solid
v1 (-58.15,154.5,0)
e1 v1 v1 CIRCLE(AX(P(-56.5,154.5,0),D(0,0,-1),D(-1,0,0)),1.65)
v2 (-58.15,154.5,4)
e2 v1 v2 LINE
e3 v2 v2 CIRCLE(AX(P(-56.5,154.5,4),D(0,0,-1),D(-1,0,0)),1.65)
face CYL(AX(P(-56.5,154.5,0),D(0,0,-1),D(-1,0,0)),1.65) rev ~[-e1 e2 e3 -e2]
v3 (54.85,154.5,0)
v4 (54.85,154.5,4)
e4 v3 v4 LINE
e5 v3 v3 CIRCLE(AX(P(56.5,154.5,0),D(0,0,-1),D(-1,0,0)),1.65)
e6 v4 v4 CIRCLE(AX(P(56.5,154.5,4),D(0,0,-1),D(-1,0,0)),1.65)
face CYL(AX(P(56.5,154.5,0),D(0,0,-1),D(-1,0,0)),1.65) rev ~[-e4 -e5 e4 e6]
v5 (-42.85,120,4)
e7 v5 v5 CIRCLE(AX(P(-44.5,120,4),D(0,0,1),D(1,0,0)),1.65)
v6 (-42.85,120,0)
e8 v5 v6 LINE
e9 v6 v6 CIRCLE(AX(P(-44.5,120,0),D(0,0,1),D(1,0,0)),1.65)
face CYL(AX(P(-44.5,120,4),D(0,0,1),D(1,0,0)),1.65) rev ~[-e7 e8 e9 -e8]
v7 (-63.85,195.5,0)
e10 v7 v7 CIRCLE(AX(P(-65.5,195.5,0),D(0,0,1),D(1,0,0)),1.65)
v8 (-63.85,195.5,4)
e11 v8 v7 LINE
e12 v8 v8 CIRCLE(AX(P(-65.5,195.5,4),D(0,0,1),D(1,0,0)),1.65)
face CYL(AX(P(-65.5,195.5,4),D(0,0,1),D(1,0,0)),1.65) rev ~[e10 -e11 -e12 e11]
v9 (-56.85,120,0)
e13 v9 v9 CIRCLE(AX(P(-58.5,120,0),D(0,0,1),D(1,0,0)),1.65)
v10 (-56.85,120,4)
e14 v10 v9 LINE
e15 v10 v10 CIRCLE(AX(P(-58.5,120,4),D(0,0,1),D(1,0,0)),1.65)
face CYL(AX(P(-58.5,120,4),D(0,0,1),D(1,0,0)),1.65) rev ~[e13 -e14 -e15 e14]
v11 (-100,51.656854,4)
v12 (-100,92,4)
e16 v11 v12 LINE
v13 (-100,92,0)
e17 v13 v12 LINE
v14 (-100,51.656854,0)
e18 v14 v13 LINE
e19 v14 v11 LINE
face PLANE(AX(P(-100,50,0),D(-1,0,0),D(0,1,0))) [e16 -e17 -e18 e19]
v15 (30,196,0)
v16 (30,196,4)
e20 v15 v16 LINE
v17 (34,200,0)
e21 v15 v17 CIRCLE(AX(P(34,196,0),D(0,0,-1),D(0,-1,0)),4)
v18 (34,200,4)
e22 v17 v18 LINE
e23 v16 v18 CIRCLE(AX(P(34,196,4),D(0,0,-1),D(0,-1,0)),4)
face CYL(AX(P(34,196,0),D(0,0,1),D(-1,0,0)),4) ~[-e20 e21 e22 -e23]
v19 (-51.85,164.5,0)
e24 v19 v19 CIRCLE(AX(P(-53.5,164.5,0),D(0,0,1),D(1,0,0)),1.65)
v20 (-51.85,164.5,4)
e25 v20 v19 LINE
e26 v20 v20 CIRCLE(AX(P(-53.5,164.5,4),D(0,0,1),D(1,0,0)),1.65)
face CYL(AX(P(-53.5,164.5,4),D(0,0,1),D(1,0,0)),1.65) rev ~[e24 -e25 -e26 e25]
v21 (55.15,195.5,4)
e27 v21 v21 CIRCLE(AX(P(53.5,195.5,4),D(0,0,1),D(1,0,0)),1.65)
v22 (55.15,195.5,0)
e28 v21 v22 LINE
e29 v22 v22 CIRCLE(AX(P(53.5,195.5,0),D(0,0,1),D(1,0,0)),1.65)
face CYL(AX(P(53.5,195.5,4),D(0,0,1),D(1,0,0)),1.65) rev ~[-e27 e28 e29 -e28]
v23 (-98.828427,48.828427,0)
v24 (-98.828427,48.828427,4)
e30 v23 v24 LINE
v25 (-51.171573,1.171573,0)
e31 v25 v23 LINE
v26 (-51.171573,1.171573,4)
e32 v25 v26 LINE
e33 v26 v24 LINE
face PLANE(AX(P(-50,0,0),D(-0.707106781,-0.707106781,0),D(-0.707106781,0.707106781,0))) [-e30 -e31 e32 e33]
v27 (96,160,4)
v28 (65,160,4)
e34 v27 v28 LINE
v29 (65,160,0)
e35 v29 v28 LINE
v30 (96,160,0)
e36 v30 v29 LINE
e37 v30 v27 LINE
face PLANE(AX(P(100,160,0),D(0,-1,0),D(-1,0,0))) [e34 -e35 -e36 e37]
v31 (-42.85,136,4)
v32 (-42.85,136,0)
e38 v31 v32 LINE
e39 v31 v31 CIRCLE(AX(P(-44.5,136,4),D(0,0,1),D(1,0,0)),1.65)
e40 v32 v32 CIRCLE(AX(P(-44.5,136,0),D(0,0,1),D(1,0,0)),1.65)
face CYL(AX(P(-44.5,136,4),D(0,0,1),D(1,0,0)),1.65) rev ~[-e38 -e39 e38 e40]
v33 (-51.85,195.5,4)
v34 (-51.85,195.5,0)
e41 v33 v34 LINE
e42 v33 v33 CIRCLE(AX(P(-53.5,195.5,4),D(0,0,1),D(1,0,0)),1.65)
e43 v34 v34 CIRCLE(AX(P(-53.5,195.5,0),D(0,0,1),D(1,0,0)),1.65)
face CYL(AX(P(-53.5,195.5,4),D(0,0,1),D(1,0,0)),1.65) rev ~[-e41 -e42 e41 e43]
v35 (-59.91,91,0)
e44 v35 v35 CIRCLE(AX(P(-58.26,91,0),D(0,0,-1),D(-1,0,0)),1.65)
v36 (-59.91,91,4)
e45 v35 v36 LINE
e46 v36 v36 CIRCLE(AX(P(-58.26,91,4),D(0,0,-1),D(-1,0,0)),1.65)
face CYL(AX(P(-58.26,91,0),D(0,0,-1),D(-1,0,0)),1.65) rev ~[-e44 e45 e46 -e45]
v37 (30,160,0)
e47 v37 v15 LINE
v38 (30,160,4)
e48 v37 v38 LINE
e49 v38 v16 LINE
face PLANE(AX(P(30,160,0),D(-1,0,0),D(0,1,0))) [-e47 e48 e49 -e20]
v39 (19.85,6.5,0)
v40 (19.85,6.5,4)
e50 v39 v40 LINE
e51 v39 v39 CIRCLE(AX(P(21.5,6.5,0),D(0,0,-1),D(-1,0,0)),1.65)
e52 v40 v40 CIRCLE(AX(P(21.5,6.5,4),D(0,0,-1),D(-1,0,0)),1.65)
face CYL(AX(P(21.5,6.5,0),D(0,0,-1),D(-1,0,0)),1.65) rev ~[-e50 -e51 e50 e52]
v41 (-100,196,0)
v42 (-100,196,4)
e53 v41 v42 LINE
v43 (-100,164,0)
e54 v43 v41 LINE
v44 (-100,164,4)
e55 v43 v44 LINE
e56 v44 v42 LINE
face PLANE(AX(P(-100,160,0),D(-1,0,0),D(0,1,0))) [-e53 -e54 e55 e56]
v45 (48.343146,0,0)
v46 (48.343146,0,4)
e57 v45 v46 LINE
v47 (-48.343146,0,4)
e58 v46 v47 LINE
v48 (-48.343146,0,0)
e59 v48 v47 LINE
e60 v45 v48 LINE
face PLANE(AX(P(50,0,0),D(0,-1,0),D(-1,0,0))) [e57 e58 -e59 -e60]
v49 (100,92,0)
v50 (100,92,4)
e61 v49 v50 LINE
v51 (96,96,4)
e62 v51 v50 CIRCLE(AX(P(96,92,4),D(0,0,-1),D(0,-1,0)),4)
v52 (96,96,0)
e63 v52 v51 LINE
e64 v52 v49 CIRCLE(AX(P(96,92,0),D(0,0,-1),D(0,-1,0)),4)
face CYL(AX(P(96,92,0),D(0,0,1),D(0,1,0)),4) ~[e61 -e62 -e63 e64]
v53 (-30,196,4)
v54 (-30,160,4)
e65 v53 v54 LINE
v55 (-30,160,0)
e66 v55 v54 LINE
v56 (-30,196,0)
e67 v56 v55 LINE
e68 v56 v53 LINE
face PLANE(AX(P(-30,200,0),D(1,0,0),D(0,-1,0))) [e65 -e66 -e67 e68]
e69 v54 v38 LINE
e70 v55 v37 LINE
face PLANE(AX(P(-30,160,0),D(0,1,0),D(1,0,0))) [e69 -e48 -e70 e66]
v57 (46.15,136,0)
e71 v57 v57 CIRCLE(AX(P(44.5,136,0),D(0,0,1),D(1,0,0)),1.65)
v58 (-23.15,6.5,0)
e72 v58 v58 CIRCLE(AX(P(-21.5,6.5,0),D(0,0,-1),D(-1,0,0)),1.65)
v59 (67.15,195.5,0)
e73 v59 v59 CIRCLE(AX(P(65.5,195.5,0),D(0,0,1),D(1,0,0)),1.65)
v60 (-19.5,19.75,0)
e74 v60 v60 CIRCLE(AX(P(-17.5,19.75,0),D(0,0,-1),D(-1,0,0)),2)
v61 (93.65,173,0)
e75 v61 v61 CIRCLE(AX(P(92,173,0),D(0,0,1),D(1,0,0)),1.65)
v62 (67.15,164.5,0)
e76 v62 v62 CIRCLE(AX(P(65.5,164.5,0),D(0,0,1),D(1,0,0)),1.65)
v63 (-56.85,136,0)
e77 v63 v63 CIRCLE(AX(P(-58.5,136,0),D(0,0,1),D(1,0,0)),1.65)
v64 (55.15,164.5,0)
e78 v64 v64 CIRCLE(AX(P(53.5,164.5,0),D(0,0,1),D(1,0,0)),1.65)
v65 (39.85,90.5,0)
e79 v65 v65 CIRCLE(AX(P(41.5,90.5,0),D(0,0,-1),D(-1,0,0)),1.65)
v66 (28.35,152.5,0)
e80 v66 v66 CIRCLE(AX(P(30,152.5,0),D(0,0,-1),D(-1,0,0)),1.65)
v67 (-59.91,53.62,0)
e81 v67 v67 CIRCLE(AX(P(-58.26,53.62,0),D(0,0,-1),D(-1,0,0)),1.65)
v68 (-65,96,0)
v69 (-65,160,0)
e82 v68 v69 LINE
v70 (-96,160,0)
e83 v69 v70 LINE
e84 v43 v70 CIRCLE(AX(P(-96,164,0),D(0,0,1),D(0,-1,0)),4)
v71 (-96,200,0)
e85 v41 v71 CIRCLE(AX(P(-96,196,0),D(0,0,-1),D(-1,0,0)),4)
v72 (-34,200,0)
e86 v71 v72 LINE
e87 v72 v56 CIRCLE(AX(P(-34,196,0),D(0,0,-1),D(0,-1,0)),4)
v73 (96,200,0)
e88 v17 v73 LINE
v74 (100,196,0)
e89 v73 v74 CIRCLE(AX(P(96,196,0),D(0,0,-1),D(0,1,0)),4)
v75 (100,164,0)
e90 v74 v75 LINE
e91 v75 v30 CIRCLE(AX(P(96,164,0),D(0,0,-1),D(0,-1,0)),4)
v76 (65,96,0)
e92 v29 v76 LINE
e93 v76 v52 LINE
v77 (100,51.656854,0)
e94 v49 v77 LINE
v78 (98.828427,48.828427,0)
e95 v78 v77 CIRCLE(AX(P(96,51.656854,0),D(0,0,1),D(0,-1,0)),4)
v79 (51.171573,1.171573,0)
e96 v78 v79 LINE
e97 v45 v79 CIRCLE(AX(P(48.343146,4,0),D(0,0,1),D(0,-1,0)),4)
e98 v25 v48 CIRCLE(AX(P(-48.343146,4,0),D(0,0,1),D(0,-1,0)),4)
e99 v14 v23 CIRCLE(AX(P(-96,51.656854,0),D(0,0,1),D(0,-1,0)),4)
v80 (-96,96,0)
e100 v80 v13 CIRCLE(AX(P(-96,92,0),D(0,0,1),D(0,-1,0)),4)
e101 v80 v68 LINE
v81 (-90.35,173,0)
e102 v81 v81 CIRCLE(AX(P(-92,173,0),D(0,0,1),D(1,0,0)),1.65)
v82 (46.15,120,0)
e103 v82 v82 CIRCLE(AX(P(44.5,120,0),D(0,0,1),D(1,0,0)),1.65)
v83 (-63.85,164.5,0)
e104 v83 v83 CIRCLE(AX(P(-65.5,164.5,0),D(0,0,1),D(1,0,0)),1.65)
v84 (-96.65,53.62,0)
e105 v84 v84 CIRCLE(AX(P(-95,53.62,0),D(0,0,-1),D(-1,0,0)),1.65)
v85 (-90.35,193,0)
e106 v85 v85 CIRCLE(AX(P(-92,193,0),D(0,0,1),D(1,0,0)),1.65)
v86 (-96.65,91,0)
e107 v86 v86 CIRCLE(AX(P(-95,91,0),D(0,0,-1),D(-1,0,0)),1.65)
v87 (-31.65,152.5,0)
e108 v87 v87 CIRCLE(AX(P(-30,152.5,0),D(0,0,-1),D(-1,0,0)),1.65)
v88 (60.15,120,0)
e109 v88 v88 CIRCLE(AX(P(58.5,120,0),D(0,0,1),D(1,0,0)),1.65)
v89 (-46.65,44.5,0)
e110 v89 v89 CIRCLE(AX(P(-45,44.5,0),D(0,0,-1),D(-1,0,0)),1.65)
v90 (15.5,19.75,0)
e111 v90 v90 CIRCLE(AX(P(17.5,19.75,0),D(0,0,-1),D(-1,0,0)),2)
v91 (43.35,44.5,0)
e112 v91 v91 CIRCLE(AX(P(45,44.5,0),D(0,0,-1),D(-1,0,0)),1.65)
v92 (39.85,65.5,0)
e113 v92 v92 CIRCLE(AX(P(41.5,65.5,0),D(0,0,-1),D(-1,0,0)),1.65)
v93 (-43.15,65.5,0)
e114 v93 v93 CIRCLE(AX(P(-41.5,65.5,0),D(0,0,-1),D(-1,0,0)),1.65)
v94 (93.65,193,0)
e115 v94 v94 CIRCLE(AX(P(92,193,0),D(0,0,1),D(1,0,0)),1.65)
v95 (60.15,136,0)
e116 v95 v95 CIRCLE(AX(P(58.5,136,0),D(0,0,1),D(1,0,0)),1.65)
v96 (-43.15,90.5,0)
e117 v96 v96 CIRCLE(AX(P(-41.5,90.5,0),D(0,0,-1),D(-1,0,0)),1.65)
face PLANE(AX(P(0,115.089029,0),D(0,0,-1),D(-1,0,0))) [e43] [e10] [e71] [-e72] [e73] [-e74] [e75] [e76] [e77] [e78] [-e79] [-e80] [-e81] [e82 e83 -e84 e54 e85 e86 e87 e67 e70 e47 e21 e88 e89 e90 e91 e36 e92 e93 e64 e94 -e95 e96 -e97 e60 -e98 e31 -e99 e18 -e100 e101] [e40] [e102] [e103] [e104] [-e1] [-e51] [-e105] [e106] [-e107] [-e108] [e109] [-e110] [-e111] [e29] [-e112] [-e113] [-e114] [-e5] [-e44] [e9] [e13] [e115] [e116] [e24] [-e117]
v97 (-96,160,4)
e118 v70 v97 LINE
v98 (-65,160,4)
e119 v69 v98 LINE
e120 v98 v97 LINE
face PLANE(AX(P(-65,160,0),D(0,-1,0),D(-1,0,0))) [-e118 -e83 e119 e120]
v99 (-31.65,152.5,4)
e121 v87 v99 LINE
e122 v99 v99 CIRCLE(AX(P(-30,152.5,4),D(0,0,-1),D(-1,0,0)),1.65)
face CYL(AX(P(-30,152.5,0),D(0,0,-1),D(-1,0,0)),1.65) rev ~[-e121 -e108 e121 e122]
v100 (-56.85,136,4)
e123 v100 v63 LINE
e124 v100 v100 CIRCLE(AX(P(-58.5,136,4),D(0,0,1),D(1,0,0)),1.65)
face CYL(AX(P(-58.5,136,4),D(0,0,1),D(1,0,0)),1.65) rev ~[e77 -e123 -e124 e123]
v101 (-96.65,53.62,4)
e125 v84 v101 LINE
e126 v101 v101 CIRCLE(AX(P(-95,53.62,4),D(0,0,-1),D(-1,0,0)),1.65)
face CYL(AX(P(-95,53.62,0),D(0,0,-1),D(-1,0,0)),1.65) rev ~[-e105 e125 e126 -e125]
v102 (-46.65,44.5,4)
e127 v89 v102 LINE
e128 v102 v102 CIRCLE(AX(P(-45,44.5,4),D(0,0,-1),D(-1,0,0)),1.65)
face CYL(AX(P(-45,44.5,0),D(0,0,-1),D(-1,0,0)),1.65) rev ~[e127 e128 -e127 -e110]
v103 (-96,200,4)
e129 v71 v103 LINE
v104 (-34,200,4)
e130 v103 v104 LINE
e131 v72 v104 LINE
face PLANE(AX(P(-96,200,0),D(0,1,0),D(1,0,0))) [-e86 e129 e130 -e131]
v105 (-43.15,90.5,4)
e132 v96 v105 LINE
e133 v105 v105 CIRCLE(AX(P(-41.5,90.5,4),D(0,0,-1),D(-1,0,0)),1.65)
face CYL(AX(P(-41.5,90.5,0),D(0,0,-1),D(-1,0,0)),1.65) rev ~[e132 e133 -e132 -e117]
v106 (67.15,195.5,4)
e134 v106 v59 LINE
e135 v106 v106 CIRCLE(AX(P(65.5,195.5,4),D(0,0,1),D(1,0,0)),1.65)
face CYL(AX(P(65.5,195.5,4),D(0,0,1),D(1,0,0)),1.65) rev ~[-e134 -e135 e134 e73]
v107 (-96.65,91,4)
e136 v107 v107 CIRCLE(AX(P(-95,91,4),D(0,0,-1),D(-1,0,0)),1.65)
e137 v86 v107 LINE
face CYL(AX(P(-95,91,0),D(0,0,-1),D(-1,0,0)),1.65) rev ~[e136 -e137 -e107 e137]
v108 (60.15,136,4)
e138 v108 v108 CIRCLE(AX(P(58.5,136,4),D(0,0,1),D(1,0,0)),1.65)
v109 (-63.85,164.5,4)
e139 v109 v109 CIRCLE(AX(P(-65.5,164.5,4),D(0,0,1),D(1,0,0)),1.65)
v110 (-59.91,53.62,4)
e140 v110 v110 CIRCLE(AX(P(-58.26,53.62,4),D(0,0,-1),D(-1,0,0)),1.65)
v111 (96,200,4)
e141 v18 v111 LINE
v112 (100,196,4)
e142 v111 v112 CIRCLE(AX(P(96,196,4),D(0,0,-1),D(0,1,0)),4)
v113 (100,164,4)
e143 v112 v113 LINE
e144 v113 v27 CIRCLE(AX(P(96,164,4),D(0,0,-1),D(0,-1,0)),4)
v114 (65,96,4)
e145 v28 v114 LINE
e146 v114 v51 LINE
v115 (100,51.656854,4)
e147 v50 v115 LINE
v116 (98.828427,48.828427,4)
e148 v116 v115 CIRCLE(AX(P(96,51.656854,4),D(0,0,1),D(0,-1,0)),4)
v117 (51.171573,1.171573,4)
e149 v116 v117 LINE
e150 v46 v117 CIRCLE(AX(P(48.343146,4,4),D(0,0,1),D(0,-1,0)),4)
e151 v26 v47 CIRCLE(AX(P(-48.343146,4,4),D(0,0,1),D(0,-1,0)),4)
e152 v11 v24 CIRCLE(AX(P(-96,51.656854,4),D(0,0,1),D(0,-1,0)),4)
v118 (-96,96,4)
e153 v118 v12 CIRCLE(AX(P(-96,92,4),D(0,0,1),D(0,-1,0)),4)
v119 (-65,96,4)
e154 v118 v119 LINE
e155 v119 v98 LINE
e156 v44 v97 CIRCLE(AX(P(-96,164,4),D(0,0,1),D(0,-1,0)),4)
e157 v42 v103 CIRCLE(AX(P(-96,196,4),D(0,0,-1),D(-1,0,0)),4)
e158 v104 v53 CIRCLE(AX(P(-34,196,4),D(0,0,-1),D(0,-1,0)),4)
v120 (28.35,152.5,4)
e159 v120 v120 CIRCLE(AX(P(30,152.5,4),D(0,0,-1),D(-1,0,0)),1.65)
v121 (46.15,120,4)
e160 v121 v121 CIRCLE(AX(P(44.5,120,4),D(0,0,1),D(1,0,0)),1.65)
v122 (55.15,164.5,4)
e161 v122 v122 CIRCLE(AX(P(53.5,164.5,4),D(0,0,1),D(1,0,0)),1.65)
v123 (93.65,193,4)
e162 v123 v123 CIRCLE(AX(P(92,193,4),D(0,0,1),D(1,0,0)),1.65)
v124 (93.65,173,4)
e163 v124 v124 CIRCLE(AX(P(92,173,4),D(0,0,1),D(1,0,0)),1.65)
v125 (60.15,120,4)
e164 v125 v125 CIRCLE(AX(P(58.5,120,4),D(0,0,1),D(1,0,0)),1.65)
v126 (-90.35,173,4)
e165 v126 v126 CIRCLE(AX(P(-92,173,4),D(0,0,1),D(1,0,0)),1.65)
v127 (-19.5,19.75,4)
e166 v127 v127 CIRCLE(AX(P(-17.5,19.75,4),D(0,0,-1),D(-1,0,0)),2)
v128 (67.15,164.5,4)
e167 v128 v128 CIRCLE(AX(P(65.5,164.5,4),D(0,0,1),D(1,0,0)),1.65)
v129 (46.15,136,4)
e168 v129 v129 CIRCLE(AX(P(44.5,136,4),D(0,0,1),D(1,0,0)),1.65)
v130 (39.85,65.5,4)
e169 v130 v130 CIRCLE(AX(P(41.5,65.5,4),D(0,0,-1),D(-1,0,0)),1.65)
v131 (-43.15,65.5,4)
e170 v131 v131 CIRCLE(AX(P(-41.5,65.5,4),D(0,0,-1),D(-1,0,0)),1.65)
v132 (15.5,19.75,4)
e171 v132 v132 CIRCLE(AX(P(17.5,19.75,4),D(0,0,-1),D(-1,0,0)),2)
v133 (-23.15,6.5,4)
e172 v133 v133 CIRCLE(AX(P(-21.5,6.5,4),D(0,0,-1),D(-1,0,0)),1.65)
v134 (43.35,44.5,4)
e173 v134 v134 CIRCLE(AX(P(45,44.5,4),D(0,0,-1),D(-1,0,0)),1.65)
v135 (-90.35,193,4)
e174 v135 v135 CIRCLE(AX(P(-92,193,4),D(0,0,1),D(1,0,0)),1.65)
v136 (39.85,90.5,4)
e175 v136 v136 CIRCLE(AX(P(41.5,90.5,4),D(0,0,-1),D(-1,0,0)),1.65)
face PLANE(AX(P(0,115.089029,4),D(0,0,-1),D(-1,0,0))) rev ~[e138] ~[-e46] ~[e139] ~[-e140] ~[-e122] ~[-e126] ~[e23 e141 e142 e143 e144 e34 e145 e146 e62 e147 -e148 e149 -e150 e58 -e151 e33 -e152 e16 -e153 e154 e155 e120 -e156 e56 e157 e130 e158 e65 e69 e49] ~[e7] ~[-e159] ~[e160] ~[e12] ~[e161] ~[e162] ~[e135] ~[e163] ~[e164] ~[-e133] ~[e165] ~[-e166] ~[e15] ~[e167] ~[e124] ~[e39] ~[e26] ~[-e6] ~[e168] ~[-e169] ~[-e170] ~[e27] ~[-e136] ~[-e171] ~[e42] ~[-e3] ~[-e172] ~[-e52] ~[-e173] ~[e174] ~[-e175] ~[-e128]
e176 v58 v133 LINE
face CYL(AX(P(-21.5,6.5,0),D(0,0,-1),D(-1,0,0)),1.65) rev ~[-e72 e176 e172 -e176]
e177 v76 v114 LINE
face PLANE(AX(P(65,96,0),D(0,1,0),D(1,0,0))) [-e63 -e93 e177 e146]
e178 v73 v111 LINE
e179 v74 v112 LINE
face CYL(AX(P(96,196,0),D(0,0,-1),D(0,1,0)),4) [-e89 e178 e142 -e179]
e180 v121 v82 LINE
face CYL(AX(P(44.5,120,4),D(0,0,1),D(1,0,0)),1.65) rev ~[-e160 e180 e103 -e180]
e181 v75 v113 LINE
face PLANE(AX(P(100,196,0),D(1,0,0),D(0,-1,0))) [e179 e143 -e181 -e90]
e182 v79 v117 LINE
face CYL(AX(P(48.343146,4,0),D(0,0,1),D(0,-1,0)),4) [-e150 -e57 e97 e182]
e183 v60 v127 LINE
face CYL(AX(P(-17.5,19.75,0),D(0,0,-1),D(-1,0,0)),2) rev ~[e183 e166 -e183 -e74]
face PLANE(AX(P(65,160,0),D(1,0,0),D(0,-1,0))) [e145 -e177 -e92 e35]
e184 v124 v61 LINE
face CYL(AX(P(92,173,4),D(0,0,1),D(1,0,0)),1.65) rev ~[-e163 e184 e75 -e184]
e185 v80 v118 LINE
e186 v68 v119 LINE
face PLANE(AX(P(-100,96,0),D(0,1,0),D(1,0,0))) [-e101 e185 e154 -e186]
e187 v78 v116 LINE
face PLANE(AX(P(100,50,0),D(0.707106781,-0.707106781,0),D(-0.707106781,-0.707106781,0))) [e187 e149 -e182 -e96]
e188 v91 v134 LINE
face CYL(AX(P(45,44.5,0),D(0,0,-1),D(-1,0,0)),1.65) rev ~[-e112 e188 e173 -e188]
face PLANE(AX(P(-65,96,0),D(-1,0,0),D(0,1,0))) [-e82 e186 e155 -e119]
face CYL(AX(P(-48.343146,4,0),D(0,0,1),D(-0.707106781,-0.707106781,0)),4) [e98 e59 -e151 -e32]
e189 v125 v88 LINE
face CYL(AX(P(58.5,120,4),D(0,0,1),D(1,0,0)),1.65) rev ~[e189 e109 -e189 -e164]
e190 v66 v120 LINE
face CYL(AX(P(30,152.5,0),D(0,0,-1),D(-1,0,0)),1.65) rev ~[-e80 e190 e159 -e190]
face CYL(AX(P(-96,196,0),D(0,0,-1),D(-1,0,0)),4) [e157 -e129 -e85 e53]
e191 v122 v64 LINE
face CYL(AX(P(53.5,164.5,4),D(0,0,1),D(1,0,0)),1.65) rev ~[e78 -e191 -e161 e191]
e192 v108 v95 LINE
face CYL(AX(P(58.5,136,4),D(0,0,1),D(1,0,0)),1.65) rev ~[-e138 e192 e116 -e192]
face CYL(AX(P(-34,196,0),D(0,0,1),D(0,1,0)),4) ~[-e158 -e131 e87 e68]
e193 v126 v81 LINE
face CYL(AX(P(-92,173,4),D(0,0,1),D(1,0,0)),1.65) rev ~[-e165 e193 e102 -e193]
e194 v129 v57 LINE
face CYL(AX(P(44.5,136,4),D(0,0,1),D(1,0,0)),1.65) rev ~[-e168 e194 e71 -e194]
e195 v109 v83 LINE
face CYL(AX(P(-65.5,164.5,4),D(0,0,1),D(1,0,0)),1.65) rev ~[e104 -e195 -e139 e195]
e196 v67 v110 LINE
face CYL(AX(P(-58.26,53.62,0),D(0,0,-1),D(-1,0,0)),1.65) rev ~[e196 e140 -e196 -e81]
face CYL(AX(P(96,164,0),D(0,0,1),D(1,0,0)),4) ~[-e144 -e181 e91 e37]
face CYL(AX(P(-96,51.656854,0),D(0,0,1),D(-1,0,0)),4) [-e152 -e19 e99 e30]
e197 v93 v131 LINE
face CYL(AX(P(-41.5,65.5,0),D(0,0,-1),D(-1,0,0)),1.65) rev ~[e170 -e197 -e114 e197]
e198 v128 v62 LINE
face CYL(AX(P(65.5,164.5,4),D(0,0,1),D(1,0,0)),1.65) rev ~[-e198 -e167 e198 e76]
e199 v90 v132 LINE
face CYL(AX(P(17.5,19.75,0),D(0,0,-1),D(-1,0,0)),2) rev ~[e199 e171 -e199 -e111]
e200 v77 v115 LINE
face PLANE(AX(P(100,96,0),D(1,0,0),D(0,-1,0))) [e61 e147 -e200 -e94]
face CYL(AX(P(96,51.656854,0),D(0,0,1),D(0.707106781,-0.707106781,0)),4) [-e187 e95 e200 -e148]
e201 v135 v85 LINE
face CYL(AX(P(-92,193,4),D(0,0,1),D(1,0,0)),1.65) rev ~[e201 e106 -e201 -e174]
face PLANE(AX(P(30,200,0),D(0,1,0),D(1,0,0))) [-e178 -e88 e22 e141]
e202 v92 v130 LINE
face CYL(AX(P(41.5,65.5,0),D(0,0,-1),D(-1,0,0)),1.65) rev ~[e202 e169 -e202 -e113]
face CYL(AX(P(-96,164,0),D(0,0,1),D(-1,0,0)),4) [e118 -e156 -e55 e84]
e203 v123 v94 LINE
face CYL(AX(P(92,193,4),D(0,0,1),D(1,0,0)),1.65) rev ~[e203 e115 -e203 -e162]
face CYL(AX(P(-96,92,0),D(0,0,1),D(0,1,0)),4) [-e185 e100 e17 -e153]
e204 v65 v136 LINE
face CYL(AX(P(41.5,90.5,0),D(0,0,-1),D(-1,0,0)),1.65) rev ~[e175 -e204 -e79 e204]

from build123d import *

# Parameters (mm, degrees)
EXTRUDE_1_DEPTH      = 4
SKETCH_4_R           = 1.65
CUT_EXTRUDE_5_DEPTH  = 10
SKETCH_5_R           = 1.65
CUT_EXTRUDE_6_DEPTH  = 10
SKETCH_6_R           = 1.65
CUT_EXTRUDE_7_DEPTH  = 10
SKETCH_7_R           = 1.65
CUT_EXTRUDE_8_DEPTH  = 10
SKETCH_8_R           = 2
CUT_EXTRUDE_9_DEPTH  = 10
SKETCH_9_R           = 1.65
CUT_EXTRUDE_10_DEPTH = 10
SKETCH_10_R          = 1.65
CUT_EXTRUDE_11_DEPTH = 10
SKETCH_11_R          = 1.65
CUT_EXTRUDE_12_DEPTH = 10
SKETCH_12_R          = 1.65
CUT_EXTRUDE_13_DEPTH = 10
FILLET_1_R           = 4
FILLET_2_R           = 4


with BuildPart() as part:
    # 草图1 → 凸台-拉伸1 (new body)
    with BuildSketch(Plane.XY):
        with BuildLine():
            Line((-96, 200), (-30, 200))
            Line((-30, 200), (-30, 160))
            Line((-30, 160), (30, 160))
            Line((30, 160), (30, 200))
            Line((30, 200), (96, 200))
            ThreePointArc((96, 200), (98.828427125, 198.828427125), (100, 196))
            Line((100, 196), (100, 160))
            Line((100, 160), (65, 160))
            Line((65, 160), (65, 96))
            Line((65, 96), (100, 96))
            Line((100, 96), (100, 50))
            Line((100, 50), (50, 0))
            Line((50, 0), (-50, 0))
            Line((-50, 0), (-100, 50))
            Line((-100, 50), (-100, 96))
            Line((-100, 96), (-65, 96))
            Line((-65, 96), (-65, 160))
            Line((-65, 160), (-100, 160))
            Line((-100, 160), (-100, 196))
            ThreePointArc((-100, 196), (-98.828427125, 198.828427125), (-96, 200))
        make_face()
    extrude(amount=EXTRUDE_1_DEPTH)

    # 草图4 → 切除-拉伸5 (cut)
    with BuildSketch(Plane(origin=(0, 0, 0), x_dir=(-1, 0, 0), z_dir=(0, 0, -1))):
        with Locations((56.5, 154.5)):
            Circle(SKETCH_4_R)
        with Locations((-56.5, 154.5)):
            Circle(SKETCH_4_R)
        with Locations((45, 44.5)):
            Circle(SKETCH_4_R)
        with Locations((-45, 44.5)):
            Circle(SKETCH_4_R)
    extrude(amount=-CUT_EXTRUDE_5_DEPTH, mode=Mode.SUBTRACT)

    # 草图5 → 切除-拉伸6 (cut)
    with BuildSketch(Plane(origin=(0, 0, 0), x_dir=(-1, 0, 0), z_dir=(0, 0, -1))):
        with Locations((41.5, 90.5)):
            Circle(SKETCH_5_R)
        with Locations((-41.5, 90.5)):
            Circle(SKETCH_5_R)
        with Locations((41.5, 65.5)):
            Circle(SKETCH_5_R)
        with Locations((-41.5, 65.5)):
            Circle(SKETCH_5_R)
    extrude(amount=-CUT_EXTRUDE_6_DEPTH, mode=Mode.SUBTRACT)

    # 草图6 → 切除-拉伸7 (cut)
    with BuildSketch(Plane(origin=(0, 0, 0), x_dir=(-1, 0, 0), z_dir=(0, 0, -1))):
        with Locations((58.26, 91)):
            Circle(SKETCH_6_R)
        with Locations((95, 91)):
            Circle(SKETCH_6_R)
        with Locations((58.26, 53.62)):
            Circle(SKETCH_6_R)
        with Locations((95, 53.62)):
            Circle(SKETCH_6_R)
    extrude(amount=-CUT_EXTRUDE_7_DEPTH, mode=Mode.SUBTRACT)

    # 草图7 → 切除-拉伸8 (cut)
    with BuildSketch(Plane(origin=(0, 0, 0), x_dir=(-1, 0, 0), z_dir=(0, 0, -1))):
        with Locations((-21.5, 6.5)):
            Circle(SKETCH_7_R)
        with Locations((21.5, 6.5)):
            Circle(SKETCH_7_R)
    extrude(amount=-CUT_EXTRUDE_8_DEPTH, mode=Mode.SUBTRACT)

    # 草图8 → 切除-拉伸9 (cut)
    with BuildSketch(Plane(origin=(0, 0, 0), x_dir=(-1, 0, 0), z_dir=(0, 0, -1))):
        with Locations((-17.5, 19.75)):
            Circle(SKETCH_8_R)
        with Locations((17.5, 19.75)):
            Circle(SKETCH_8_R)
    extrude(amount=-CUT_EXTRUDE_9_DEPTH, mode=Mode.SUBTRACT)

    # 草图9 → 切除-拉伸10 (cut)
    with BuildSketch(Plane(origin=(0, 0, 0), x_dir=(-1, 0, 0), z_dir=(0, 0, -1))):
        with Locations((-30, 152.5)):
            Circle(SKETCH_9_R)
        with Locations((30, 152.5)):
            Circle(SKETCH_9_R)
    extrude(amount=-CUT_EXTRUDE_10_DEPTH, mode=Mode.SUBTRACT)

    # 草图10 → 切除-拉伸11 (cut)
    with BuildSketch(Plane.XY.offset(4)):
        with Locations((-92, 193)):
            Circle(SKETCH_10_R)
        with Locations((-92, 173)):
            Circle(SKETCH_10_R)
        with Locations((92, 173)):
            Circle(SKETCH_10_R)
        with Locations((92, 193)):
            Circle(SKETCH_10_R)
    extrude(amount=-CUT_EXTRUDE_11_DEPTH, mode=Mode.SUBTRACT)

    # 草图11 → 切除-拉伸12 (cut)
    with BuildSketch(Plane.XY.offset(4)):
        with Locations((65.5, 164.5)):
            Circle(SKETCH_11_R)
        with Locations((53.5, 164.5)):
            Circle(SKETCH_11_R)
        with Locations((53.5, 195.5)):
            Circle(SKETCH_11_R)
        with Locations((65.5, 195.5)):
            Circle(SKETCH_11_R)
        with Locations((-65.5, 195.5)):
            Circle(SKETCH_11_R)
        with Locations((-53.5, 195.5)):
            Circle(SKETCH_11_R)
        with Locations((-53.5, 164.5)):
            Circle(SKETCH_11_R)
        with Locations((-65.5, 164.5)):
            Circle(SKETCH_11_R)
    extrude(amount=-CUT_EXTRUDE_12_DEPTH, mode=Mode.SUBTRACT)

    # 草图12 → 切除-拉伸13 (cut)
    with BuildSketch(Plane.XY.offset(4)):
        with Locations((58.5, 120)):
            Circle(SKETCH_12_R)
        with Locations((44.5, 120)):
            Circle(SKETCH_12_R)
        with Locations((44.5, 136)):
            Circle(SKETCH_12_R)
        with Locations((58.5, 136)):
            Circle(SKETCH_12_R)
        with Locations((-58.5, 136)):
            Circle(SKETCH_12_R)
        with Locations((-44.5, 136)):
            Circle(SKETCH_12_R)
        with Locations((-44.5, 120)):
            Circle(SKETCH_12_R)
        with Locations((-58.5, 120)):
            Circle(SKETCH_12_R)
    extrude(amount=-CUT_EXTRUDE_13_DEPTH, mode=Mode.SUBTRACT)

    # 圆角1
    fillet_1_edges = [part.edges().sort_by_distance(p)[0] for p in [
        (100, 160, 2),
        (100, 96, 2),
        (100, 50, 2),
        (50, 0, 2),
        (-50, 0, 2),
        (-100, 50, 2),
        (-100, 96, 2),
        (-100, 160, 2),
    ]]
    fillet(fillet_1_edges, radius=FILLET_1_R)

    # 圆角2
    fillet_2_edges = [part.edges().sort_by_distance(p)[0] for p in [
        (-30, 200, 2),
        (30, 200, 2),
    ]]
    fillet(fillet_2_edges, radius=FILLET_2_R)


solid = part.part
